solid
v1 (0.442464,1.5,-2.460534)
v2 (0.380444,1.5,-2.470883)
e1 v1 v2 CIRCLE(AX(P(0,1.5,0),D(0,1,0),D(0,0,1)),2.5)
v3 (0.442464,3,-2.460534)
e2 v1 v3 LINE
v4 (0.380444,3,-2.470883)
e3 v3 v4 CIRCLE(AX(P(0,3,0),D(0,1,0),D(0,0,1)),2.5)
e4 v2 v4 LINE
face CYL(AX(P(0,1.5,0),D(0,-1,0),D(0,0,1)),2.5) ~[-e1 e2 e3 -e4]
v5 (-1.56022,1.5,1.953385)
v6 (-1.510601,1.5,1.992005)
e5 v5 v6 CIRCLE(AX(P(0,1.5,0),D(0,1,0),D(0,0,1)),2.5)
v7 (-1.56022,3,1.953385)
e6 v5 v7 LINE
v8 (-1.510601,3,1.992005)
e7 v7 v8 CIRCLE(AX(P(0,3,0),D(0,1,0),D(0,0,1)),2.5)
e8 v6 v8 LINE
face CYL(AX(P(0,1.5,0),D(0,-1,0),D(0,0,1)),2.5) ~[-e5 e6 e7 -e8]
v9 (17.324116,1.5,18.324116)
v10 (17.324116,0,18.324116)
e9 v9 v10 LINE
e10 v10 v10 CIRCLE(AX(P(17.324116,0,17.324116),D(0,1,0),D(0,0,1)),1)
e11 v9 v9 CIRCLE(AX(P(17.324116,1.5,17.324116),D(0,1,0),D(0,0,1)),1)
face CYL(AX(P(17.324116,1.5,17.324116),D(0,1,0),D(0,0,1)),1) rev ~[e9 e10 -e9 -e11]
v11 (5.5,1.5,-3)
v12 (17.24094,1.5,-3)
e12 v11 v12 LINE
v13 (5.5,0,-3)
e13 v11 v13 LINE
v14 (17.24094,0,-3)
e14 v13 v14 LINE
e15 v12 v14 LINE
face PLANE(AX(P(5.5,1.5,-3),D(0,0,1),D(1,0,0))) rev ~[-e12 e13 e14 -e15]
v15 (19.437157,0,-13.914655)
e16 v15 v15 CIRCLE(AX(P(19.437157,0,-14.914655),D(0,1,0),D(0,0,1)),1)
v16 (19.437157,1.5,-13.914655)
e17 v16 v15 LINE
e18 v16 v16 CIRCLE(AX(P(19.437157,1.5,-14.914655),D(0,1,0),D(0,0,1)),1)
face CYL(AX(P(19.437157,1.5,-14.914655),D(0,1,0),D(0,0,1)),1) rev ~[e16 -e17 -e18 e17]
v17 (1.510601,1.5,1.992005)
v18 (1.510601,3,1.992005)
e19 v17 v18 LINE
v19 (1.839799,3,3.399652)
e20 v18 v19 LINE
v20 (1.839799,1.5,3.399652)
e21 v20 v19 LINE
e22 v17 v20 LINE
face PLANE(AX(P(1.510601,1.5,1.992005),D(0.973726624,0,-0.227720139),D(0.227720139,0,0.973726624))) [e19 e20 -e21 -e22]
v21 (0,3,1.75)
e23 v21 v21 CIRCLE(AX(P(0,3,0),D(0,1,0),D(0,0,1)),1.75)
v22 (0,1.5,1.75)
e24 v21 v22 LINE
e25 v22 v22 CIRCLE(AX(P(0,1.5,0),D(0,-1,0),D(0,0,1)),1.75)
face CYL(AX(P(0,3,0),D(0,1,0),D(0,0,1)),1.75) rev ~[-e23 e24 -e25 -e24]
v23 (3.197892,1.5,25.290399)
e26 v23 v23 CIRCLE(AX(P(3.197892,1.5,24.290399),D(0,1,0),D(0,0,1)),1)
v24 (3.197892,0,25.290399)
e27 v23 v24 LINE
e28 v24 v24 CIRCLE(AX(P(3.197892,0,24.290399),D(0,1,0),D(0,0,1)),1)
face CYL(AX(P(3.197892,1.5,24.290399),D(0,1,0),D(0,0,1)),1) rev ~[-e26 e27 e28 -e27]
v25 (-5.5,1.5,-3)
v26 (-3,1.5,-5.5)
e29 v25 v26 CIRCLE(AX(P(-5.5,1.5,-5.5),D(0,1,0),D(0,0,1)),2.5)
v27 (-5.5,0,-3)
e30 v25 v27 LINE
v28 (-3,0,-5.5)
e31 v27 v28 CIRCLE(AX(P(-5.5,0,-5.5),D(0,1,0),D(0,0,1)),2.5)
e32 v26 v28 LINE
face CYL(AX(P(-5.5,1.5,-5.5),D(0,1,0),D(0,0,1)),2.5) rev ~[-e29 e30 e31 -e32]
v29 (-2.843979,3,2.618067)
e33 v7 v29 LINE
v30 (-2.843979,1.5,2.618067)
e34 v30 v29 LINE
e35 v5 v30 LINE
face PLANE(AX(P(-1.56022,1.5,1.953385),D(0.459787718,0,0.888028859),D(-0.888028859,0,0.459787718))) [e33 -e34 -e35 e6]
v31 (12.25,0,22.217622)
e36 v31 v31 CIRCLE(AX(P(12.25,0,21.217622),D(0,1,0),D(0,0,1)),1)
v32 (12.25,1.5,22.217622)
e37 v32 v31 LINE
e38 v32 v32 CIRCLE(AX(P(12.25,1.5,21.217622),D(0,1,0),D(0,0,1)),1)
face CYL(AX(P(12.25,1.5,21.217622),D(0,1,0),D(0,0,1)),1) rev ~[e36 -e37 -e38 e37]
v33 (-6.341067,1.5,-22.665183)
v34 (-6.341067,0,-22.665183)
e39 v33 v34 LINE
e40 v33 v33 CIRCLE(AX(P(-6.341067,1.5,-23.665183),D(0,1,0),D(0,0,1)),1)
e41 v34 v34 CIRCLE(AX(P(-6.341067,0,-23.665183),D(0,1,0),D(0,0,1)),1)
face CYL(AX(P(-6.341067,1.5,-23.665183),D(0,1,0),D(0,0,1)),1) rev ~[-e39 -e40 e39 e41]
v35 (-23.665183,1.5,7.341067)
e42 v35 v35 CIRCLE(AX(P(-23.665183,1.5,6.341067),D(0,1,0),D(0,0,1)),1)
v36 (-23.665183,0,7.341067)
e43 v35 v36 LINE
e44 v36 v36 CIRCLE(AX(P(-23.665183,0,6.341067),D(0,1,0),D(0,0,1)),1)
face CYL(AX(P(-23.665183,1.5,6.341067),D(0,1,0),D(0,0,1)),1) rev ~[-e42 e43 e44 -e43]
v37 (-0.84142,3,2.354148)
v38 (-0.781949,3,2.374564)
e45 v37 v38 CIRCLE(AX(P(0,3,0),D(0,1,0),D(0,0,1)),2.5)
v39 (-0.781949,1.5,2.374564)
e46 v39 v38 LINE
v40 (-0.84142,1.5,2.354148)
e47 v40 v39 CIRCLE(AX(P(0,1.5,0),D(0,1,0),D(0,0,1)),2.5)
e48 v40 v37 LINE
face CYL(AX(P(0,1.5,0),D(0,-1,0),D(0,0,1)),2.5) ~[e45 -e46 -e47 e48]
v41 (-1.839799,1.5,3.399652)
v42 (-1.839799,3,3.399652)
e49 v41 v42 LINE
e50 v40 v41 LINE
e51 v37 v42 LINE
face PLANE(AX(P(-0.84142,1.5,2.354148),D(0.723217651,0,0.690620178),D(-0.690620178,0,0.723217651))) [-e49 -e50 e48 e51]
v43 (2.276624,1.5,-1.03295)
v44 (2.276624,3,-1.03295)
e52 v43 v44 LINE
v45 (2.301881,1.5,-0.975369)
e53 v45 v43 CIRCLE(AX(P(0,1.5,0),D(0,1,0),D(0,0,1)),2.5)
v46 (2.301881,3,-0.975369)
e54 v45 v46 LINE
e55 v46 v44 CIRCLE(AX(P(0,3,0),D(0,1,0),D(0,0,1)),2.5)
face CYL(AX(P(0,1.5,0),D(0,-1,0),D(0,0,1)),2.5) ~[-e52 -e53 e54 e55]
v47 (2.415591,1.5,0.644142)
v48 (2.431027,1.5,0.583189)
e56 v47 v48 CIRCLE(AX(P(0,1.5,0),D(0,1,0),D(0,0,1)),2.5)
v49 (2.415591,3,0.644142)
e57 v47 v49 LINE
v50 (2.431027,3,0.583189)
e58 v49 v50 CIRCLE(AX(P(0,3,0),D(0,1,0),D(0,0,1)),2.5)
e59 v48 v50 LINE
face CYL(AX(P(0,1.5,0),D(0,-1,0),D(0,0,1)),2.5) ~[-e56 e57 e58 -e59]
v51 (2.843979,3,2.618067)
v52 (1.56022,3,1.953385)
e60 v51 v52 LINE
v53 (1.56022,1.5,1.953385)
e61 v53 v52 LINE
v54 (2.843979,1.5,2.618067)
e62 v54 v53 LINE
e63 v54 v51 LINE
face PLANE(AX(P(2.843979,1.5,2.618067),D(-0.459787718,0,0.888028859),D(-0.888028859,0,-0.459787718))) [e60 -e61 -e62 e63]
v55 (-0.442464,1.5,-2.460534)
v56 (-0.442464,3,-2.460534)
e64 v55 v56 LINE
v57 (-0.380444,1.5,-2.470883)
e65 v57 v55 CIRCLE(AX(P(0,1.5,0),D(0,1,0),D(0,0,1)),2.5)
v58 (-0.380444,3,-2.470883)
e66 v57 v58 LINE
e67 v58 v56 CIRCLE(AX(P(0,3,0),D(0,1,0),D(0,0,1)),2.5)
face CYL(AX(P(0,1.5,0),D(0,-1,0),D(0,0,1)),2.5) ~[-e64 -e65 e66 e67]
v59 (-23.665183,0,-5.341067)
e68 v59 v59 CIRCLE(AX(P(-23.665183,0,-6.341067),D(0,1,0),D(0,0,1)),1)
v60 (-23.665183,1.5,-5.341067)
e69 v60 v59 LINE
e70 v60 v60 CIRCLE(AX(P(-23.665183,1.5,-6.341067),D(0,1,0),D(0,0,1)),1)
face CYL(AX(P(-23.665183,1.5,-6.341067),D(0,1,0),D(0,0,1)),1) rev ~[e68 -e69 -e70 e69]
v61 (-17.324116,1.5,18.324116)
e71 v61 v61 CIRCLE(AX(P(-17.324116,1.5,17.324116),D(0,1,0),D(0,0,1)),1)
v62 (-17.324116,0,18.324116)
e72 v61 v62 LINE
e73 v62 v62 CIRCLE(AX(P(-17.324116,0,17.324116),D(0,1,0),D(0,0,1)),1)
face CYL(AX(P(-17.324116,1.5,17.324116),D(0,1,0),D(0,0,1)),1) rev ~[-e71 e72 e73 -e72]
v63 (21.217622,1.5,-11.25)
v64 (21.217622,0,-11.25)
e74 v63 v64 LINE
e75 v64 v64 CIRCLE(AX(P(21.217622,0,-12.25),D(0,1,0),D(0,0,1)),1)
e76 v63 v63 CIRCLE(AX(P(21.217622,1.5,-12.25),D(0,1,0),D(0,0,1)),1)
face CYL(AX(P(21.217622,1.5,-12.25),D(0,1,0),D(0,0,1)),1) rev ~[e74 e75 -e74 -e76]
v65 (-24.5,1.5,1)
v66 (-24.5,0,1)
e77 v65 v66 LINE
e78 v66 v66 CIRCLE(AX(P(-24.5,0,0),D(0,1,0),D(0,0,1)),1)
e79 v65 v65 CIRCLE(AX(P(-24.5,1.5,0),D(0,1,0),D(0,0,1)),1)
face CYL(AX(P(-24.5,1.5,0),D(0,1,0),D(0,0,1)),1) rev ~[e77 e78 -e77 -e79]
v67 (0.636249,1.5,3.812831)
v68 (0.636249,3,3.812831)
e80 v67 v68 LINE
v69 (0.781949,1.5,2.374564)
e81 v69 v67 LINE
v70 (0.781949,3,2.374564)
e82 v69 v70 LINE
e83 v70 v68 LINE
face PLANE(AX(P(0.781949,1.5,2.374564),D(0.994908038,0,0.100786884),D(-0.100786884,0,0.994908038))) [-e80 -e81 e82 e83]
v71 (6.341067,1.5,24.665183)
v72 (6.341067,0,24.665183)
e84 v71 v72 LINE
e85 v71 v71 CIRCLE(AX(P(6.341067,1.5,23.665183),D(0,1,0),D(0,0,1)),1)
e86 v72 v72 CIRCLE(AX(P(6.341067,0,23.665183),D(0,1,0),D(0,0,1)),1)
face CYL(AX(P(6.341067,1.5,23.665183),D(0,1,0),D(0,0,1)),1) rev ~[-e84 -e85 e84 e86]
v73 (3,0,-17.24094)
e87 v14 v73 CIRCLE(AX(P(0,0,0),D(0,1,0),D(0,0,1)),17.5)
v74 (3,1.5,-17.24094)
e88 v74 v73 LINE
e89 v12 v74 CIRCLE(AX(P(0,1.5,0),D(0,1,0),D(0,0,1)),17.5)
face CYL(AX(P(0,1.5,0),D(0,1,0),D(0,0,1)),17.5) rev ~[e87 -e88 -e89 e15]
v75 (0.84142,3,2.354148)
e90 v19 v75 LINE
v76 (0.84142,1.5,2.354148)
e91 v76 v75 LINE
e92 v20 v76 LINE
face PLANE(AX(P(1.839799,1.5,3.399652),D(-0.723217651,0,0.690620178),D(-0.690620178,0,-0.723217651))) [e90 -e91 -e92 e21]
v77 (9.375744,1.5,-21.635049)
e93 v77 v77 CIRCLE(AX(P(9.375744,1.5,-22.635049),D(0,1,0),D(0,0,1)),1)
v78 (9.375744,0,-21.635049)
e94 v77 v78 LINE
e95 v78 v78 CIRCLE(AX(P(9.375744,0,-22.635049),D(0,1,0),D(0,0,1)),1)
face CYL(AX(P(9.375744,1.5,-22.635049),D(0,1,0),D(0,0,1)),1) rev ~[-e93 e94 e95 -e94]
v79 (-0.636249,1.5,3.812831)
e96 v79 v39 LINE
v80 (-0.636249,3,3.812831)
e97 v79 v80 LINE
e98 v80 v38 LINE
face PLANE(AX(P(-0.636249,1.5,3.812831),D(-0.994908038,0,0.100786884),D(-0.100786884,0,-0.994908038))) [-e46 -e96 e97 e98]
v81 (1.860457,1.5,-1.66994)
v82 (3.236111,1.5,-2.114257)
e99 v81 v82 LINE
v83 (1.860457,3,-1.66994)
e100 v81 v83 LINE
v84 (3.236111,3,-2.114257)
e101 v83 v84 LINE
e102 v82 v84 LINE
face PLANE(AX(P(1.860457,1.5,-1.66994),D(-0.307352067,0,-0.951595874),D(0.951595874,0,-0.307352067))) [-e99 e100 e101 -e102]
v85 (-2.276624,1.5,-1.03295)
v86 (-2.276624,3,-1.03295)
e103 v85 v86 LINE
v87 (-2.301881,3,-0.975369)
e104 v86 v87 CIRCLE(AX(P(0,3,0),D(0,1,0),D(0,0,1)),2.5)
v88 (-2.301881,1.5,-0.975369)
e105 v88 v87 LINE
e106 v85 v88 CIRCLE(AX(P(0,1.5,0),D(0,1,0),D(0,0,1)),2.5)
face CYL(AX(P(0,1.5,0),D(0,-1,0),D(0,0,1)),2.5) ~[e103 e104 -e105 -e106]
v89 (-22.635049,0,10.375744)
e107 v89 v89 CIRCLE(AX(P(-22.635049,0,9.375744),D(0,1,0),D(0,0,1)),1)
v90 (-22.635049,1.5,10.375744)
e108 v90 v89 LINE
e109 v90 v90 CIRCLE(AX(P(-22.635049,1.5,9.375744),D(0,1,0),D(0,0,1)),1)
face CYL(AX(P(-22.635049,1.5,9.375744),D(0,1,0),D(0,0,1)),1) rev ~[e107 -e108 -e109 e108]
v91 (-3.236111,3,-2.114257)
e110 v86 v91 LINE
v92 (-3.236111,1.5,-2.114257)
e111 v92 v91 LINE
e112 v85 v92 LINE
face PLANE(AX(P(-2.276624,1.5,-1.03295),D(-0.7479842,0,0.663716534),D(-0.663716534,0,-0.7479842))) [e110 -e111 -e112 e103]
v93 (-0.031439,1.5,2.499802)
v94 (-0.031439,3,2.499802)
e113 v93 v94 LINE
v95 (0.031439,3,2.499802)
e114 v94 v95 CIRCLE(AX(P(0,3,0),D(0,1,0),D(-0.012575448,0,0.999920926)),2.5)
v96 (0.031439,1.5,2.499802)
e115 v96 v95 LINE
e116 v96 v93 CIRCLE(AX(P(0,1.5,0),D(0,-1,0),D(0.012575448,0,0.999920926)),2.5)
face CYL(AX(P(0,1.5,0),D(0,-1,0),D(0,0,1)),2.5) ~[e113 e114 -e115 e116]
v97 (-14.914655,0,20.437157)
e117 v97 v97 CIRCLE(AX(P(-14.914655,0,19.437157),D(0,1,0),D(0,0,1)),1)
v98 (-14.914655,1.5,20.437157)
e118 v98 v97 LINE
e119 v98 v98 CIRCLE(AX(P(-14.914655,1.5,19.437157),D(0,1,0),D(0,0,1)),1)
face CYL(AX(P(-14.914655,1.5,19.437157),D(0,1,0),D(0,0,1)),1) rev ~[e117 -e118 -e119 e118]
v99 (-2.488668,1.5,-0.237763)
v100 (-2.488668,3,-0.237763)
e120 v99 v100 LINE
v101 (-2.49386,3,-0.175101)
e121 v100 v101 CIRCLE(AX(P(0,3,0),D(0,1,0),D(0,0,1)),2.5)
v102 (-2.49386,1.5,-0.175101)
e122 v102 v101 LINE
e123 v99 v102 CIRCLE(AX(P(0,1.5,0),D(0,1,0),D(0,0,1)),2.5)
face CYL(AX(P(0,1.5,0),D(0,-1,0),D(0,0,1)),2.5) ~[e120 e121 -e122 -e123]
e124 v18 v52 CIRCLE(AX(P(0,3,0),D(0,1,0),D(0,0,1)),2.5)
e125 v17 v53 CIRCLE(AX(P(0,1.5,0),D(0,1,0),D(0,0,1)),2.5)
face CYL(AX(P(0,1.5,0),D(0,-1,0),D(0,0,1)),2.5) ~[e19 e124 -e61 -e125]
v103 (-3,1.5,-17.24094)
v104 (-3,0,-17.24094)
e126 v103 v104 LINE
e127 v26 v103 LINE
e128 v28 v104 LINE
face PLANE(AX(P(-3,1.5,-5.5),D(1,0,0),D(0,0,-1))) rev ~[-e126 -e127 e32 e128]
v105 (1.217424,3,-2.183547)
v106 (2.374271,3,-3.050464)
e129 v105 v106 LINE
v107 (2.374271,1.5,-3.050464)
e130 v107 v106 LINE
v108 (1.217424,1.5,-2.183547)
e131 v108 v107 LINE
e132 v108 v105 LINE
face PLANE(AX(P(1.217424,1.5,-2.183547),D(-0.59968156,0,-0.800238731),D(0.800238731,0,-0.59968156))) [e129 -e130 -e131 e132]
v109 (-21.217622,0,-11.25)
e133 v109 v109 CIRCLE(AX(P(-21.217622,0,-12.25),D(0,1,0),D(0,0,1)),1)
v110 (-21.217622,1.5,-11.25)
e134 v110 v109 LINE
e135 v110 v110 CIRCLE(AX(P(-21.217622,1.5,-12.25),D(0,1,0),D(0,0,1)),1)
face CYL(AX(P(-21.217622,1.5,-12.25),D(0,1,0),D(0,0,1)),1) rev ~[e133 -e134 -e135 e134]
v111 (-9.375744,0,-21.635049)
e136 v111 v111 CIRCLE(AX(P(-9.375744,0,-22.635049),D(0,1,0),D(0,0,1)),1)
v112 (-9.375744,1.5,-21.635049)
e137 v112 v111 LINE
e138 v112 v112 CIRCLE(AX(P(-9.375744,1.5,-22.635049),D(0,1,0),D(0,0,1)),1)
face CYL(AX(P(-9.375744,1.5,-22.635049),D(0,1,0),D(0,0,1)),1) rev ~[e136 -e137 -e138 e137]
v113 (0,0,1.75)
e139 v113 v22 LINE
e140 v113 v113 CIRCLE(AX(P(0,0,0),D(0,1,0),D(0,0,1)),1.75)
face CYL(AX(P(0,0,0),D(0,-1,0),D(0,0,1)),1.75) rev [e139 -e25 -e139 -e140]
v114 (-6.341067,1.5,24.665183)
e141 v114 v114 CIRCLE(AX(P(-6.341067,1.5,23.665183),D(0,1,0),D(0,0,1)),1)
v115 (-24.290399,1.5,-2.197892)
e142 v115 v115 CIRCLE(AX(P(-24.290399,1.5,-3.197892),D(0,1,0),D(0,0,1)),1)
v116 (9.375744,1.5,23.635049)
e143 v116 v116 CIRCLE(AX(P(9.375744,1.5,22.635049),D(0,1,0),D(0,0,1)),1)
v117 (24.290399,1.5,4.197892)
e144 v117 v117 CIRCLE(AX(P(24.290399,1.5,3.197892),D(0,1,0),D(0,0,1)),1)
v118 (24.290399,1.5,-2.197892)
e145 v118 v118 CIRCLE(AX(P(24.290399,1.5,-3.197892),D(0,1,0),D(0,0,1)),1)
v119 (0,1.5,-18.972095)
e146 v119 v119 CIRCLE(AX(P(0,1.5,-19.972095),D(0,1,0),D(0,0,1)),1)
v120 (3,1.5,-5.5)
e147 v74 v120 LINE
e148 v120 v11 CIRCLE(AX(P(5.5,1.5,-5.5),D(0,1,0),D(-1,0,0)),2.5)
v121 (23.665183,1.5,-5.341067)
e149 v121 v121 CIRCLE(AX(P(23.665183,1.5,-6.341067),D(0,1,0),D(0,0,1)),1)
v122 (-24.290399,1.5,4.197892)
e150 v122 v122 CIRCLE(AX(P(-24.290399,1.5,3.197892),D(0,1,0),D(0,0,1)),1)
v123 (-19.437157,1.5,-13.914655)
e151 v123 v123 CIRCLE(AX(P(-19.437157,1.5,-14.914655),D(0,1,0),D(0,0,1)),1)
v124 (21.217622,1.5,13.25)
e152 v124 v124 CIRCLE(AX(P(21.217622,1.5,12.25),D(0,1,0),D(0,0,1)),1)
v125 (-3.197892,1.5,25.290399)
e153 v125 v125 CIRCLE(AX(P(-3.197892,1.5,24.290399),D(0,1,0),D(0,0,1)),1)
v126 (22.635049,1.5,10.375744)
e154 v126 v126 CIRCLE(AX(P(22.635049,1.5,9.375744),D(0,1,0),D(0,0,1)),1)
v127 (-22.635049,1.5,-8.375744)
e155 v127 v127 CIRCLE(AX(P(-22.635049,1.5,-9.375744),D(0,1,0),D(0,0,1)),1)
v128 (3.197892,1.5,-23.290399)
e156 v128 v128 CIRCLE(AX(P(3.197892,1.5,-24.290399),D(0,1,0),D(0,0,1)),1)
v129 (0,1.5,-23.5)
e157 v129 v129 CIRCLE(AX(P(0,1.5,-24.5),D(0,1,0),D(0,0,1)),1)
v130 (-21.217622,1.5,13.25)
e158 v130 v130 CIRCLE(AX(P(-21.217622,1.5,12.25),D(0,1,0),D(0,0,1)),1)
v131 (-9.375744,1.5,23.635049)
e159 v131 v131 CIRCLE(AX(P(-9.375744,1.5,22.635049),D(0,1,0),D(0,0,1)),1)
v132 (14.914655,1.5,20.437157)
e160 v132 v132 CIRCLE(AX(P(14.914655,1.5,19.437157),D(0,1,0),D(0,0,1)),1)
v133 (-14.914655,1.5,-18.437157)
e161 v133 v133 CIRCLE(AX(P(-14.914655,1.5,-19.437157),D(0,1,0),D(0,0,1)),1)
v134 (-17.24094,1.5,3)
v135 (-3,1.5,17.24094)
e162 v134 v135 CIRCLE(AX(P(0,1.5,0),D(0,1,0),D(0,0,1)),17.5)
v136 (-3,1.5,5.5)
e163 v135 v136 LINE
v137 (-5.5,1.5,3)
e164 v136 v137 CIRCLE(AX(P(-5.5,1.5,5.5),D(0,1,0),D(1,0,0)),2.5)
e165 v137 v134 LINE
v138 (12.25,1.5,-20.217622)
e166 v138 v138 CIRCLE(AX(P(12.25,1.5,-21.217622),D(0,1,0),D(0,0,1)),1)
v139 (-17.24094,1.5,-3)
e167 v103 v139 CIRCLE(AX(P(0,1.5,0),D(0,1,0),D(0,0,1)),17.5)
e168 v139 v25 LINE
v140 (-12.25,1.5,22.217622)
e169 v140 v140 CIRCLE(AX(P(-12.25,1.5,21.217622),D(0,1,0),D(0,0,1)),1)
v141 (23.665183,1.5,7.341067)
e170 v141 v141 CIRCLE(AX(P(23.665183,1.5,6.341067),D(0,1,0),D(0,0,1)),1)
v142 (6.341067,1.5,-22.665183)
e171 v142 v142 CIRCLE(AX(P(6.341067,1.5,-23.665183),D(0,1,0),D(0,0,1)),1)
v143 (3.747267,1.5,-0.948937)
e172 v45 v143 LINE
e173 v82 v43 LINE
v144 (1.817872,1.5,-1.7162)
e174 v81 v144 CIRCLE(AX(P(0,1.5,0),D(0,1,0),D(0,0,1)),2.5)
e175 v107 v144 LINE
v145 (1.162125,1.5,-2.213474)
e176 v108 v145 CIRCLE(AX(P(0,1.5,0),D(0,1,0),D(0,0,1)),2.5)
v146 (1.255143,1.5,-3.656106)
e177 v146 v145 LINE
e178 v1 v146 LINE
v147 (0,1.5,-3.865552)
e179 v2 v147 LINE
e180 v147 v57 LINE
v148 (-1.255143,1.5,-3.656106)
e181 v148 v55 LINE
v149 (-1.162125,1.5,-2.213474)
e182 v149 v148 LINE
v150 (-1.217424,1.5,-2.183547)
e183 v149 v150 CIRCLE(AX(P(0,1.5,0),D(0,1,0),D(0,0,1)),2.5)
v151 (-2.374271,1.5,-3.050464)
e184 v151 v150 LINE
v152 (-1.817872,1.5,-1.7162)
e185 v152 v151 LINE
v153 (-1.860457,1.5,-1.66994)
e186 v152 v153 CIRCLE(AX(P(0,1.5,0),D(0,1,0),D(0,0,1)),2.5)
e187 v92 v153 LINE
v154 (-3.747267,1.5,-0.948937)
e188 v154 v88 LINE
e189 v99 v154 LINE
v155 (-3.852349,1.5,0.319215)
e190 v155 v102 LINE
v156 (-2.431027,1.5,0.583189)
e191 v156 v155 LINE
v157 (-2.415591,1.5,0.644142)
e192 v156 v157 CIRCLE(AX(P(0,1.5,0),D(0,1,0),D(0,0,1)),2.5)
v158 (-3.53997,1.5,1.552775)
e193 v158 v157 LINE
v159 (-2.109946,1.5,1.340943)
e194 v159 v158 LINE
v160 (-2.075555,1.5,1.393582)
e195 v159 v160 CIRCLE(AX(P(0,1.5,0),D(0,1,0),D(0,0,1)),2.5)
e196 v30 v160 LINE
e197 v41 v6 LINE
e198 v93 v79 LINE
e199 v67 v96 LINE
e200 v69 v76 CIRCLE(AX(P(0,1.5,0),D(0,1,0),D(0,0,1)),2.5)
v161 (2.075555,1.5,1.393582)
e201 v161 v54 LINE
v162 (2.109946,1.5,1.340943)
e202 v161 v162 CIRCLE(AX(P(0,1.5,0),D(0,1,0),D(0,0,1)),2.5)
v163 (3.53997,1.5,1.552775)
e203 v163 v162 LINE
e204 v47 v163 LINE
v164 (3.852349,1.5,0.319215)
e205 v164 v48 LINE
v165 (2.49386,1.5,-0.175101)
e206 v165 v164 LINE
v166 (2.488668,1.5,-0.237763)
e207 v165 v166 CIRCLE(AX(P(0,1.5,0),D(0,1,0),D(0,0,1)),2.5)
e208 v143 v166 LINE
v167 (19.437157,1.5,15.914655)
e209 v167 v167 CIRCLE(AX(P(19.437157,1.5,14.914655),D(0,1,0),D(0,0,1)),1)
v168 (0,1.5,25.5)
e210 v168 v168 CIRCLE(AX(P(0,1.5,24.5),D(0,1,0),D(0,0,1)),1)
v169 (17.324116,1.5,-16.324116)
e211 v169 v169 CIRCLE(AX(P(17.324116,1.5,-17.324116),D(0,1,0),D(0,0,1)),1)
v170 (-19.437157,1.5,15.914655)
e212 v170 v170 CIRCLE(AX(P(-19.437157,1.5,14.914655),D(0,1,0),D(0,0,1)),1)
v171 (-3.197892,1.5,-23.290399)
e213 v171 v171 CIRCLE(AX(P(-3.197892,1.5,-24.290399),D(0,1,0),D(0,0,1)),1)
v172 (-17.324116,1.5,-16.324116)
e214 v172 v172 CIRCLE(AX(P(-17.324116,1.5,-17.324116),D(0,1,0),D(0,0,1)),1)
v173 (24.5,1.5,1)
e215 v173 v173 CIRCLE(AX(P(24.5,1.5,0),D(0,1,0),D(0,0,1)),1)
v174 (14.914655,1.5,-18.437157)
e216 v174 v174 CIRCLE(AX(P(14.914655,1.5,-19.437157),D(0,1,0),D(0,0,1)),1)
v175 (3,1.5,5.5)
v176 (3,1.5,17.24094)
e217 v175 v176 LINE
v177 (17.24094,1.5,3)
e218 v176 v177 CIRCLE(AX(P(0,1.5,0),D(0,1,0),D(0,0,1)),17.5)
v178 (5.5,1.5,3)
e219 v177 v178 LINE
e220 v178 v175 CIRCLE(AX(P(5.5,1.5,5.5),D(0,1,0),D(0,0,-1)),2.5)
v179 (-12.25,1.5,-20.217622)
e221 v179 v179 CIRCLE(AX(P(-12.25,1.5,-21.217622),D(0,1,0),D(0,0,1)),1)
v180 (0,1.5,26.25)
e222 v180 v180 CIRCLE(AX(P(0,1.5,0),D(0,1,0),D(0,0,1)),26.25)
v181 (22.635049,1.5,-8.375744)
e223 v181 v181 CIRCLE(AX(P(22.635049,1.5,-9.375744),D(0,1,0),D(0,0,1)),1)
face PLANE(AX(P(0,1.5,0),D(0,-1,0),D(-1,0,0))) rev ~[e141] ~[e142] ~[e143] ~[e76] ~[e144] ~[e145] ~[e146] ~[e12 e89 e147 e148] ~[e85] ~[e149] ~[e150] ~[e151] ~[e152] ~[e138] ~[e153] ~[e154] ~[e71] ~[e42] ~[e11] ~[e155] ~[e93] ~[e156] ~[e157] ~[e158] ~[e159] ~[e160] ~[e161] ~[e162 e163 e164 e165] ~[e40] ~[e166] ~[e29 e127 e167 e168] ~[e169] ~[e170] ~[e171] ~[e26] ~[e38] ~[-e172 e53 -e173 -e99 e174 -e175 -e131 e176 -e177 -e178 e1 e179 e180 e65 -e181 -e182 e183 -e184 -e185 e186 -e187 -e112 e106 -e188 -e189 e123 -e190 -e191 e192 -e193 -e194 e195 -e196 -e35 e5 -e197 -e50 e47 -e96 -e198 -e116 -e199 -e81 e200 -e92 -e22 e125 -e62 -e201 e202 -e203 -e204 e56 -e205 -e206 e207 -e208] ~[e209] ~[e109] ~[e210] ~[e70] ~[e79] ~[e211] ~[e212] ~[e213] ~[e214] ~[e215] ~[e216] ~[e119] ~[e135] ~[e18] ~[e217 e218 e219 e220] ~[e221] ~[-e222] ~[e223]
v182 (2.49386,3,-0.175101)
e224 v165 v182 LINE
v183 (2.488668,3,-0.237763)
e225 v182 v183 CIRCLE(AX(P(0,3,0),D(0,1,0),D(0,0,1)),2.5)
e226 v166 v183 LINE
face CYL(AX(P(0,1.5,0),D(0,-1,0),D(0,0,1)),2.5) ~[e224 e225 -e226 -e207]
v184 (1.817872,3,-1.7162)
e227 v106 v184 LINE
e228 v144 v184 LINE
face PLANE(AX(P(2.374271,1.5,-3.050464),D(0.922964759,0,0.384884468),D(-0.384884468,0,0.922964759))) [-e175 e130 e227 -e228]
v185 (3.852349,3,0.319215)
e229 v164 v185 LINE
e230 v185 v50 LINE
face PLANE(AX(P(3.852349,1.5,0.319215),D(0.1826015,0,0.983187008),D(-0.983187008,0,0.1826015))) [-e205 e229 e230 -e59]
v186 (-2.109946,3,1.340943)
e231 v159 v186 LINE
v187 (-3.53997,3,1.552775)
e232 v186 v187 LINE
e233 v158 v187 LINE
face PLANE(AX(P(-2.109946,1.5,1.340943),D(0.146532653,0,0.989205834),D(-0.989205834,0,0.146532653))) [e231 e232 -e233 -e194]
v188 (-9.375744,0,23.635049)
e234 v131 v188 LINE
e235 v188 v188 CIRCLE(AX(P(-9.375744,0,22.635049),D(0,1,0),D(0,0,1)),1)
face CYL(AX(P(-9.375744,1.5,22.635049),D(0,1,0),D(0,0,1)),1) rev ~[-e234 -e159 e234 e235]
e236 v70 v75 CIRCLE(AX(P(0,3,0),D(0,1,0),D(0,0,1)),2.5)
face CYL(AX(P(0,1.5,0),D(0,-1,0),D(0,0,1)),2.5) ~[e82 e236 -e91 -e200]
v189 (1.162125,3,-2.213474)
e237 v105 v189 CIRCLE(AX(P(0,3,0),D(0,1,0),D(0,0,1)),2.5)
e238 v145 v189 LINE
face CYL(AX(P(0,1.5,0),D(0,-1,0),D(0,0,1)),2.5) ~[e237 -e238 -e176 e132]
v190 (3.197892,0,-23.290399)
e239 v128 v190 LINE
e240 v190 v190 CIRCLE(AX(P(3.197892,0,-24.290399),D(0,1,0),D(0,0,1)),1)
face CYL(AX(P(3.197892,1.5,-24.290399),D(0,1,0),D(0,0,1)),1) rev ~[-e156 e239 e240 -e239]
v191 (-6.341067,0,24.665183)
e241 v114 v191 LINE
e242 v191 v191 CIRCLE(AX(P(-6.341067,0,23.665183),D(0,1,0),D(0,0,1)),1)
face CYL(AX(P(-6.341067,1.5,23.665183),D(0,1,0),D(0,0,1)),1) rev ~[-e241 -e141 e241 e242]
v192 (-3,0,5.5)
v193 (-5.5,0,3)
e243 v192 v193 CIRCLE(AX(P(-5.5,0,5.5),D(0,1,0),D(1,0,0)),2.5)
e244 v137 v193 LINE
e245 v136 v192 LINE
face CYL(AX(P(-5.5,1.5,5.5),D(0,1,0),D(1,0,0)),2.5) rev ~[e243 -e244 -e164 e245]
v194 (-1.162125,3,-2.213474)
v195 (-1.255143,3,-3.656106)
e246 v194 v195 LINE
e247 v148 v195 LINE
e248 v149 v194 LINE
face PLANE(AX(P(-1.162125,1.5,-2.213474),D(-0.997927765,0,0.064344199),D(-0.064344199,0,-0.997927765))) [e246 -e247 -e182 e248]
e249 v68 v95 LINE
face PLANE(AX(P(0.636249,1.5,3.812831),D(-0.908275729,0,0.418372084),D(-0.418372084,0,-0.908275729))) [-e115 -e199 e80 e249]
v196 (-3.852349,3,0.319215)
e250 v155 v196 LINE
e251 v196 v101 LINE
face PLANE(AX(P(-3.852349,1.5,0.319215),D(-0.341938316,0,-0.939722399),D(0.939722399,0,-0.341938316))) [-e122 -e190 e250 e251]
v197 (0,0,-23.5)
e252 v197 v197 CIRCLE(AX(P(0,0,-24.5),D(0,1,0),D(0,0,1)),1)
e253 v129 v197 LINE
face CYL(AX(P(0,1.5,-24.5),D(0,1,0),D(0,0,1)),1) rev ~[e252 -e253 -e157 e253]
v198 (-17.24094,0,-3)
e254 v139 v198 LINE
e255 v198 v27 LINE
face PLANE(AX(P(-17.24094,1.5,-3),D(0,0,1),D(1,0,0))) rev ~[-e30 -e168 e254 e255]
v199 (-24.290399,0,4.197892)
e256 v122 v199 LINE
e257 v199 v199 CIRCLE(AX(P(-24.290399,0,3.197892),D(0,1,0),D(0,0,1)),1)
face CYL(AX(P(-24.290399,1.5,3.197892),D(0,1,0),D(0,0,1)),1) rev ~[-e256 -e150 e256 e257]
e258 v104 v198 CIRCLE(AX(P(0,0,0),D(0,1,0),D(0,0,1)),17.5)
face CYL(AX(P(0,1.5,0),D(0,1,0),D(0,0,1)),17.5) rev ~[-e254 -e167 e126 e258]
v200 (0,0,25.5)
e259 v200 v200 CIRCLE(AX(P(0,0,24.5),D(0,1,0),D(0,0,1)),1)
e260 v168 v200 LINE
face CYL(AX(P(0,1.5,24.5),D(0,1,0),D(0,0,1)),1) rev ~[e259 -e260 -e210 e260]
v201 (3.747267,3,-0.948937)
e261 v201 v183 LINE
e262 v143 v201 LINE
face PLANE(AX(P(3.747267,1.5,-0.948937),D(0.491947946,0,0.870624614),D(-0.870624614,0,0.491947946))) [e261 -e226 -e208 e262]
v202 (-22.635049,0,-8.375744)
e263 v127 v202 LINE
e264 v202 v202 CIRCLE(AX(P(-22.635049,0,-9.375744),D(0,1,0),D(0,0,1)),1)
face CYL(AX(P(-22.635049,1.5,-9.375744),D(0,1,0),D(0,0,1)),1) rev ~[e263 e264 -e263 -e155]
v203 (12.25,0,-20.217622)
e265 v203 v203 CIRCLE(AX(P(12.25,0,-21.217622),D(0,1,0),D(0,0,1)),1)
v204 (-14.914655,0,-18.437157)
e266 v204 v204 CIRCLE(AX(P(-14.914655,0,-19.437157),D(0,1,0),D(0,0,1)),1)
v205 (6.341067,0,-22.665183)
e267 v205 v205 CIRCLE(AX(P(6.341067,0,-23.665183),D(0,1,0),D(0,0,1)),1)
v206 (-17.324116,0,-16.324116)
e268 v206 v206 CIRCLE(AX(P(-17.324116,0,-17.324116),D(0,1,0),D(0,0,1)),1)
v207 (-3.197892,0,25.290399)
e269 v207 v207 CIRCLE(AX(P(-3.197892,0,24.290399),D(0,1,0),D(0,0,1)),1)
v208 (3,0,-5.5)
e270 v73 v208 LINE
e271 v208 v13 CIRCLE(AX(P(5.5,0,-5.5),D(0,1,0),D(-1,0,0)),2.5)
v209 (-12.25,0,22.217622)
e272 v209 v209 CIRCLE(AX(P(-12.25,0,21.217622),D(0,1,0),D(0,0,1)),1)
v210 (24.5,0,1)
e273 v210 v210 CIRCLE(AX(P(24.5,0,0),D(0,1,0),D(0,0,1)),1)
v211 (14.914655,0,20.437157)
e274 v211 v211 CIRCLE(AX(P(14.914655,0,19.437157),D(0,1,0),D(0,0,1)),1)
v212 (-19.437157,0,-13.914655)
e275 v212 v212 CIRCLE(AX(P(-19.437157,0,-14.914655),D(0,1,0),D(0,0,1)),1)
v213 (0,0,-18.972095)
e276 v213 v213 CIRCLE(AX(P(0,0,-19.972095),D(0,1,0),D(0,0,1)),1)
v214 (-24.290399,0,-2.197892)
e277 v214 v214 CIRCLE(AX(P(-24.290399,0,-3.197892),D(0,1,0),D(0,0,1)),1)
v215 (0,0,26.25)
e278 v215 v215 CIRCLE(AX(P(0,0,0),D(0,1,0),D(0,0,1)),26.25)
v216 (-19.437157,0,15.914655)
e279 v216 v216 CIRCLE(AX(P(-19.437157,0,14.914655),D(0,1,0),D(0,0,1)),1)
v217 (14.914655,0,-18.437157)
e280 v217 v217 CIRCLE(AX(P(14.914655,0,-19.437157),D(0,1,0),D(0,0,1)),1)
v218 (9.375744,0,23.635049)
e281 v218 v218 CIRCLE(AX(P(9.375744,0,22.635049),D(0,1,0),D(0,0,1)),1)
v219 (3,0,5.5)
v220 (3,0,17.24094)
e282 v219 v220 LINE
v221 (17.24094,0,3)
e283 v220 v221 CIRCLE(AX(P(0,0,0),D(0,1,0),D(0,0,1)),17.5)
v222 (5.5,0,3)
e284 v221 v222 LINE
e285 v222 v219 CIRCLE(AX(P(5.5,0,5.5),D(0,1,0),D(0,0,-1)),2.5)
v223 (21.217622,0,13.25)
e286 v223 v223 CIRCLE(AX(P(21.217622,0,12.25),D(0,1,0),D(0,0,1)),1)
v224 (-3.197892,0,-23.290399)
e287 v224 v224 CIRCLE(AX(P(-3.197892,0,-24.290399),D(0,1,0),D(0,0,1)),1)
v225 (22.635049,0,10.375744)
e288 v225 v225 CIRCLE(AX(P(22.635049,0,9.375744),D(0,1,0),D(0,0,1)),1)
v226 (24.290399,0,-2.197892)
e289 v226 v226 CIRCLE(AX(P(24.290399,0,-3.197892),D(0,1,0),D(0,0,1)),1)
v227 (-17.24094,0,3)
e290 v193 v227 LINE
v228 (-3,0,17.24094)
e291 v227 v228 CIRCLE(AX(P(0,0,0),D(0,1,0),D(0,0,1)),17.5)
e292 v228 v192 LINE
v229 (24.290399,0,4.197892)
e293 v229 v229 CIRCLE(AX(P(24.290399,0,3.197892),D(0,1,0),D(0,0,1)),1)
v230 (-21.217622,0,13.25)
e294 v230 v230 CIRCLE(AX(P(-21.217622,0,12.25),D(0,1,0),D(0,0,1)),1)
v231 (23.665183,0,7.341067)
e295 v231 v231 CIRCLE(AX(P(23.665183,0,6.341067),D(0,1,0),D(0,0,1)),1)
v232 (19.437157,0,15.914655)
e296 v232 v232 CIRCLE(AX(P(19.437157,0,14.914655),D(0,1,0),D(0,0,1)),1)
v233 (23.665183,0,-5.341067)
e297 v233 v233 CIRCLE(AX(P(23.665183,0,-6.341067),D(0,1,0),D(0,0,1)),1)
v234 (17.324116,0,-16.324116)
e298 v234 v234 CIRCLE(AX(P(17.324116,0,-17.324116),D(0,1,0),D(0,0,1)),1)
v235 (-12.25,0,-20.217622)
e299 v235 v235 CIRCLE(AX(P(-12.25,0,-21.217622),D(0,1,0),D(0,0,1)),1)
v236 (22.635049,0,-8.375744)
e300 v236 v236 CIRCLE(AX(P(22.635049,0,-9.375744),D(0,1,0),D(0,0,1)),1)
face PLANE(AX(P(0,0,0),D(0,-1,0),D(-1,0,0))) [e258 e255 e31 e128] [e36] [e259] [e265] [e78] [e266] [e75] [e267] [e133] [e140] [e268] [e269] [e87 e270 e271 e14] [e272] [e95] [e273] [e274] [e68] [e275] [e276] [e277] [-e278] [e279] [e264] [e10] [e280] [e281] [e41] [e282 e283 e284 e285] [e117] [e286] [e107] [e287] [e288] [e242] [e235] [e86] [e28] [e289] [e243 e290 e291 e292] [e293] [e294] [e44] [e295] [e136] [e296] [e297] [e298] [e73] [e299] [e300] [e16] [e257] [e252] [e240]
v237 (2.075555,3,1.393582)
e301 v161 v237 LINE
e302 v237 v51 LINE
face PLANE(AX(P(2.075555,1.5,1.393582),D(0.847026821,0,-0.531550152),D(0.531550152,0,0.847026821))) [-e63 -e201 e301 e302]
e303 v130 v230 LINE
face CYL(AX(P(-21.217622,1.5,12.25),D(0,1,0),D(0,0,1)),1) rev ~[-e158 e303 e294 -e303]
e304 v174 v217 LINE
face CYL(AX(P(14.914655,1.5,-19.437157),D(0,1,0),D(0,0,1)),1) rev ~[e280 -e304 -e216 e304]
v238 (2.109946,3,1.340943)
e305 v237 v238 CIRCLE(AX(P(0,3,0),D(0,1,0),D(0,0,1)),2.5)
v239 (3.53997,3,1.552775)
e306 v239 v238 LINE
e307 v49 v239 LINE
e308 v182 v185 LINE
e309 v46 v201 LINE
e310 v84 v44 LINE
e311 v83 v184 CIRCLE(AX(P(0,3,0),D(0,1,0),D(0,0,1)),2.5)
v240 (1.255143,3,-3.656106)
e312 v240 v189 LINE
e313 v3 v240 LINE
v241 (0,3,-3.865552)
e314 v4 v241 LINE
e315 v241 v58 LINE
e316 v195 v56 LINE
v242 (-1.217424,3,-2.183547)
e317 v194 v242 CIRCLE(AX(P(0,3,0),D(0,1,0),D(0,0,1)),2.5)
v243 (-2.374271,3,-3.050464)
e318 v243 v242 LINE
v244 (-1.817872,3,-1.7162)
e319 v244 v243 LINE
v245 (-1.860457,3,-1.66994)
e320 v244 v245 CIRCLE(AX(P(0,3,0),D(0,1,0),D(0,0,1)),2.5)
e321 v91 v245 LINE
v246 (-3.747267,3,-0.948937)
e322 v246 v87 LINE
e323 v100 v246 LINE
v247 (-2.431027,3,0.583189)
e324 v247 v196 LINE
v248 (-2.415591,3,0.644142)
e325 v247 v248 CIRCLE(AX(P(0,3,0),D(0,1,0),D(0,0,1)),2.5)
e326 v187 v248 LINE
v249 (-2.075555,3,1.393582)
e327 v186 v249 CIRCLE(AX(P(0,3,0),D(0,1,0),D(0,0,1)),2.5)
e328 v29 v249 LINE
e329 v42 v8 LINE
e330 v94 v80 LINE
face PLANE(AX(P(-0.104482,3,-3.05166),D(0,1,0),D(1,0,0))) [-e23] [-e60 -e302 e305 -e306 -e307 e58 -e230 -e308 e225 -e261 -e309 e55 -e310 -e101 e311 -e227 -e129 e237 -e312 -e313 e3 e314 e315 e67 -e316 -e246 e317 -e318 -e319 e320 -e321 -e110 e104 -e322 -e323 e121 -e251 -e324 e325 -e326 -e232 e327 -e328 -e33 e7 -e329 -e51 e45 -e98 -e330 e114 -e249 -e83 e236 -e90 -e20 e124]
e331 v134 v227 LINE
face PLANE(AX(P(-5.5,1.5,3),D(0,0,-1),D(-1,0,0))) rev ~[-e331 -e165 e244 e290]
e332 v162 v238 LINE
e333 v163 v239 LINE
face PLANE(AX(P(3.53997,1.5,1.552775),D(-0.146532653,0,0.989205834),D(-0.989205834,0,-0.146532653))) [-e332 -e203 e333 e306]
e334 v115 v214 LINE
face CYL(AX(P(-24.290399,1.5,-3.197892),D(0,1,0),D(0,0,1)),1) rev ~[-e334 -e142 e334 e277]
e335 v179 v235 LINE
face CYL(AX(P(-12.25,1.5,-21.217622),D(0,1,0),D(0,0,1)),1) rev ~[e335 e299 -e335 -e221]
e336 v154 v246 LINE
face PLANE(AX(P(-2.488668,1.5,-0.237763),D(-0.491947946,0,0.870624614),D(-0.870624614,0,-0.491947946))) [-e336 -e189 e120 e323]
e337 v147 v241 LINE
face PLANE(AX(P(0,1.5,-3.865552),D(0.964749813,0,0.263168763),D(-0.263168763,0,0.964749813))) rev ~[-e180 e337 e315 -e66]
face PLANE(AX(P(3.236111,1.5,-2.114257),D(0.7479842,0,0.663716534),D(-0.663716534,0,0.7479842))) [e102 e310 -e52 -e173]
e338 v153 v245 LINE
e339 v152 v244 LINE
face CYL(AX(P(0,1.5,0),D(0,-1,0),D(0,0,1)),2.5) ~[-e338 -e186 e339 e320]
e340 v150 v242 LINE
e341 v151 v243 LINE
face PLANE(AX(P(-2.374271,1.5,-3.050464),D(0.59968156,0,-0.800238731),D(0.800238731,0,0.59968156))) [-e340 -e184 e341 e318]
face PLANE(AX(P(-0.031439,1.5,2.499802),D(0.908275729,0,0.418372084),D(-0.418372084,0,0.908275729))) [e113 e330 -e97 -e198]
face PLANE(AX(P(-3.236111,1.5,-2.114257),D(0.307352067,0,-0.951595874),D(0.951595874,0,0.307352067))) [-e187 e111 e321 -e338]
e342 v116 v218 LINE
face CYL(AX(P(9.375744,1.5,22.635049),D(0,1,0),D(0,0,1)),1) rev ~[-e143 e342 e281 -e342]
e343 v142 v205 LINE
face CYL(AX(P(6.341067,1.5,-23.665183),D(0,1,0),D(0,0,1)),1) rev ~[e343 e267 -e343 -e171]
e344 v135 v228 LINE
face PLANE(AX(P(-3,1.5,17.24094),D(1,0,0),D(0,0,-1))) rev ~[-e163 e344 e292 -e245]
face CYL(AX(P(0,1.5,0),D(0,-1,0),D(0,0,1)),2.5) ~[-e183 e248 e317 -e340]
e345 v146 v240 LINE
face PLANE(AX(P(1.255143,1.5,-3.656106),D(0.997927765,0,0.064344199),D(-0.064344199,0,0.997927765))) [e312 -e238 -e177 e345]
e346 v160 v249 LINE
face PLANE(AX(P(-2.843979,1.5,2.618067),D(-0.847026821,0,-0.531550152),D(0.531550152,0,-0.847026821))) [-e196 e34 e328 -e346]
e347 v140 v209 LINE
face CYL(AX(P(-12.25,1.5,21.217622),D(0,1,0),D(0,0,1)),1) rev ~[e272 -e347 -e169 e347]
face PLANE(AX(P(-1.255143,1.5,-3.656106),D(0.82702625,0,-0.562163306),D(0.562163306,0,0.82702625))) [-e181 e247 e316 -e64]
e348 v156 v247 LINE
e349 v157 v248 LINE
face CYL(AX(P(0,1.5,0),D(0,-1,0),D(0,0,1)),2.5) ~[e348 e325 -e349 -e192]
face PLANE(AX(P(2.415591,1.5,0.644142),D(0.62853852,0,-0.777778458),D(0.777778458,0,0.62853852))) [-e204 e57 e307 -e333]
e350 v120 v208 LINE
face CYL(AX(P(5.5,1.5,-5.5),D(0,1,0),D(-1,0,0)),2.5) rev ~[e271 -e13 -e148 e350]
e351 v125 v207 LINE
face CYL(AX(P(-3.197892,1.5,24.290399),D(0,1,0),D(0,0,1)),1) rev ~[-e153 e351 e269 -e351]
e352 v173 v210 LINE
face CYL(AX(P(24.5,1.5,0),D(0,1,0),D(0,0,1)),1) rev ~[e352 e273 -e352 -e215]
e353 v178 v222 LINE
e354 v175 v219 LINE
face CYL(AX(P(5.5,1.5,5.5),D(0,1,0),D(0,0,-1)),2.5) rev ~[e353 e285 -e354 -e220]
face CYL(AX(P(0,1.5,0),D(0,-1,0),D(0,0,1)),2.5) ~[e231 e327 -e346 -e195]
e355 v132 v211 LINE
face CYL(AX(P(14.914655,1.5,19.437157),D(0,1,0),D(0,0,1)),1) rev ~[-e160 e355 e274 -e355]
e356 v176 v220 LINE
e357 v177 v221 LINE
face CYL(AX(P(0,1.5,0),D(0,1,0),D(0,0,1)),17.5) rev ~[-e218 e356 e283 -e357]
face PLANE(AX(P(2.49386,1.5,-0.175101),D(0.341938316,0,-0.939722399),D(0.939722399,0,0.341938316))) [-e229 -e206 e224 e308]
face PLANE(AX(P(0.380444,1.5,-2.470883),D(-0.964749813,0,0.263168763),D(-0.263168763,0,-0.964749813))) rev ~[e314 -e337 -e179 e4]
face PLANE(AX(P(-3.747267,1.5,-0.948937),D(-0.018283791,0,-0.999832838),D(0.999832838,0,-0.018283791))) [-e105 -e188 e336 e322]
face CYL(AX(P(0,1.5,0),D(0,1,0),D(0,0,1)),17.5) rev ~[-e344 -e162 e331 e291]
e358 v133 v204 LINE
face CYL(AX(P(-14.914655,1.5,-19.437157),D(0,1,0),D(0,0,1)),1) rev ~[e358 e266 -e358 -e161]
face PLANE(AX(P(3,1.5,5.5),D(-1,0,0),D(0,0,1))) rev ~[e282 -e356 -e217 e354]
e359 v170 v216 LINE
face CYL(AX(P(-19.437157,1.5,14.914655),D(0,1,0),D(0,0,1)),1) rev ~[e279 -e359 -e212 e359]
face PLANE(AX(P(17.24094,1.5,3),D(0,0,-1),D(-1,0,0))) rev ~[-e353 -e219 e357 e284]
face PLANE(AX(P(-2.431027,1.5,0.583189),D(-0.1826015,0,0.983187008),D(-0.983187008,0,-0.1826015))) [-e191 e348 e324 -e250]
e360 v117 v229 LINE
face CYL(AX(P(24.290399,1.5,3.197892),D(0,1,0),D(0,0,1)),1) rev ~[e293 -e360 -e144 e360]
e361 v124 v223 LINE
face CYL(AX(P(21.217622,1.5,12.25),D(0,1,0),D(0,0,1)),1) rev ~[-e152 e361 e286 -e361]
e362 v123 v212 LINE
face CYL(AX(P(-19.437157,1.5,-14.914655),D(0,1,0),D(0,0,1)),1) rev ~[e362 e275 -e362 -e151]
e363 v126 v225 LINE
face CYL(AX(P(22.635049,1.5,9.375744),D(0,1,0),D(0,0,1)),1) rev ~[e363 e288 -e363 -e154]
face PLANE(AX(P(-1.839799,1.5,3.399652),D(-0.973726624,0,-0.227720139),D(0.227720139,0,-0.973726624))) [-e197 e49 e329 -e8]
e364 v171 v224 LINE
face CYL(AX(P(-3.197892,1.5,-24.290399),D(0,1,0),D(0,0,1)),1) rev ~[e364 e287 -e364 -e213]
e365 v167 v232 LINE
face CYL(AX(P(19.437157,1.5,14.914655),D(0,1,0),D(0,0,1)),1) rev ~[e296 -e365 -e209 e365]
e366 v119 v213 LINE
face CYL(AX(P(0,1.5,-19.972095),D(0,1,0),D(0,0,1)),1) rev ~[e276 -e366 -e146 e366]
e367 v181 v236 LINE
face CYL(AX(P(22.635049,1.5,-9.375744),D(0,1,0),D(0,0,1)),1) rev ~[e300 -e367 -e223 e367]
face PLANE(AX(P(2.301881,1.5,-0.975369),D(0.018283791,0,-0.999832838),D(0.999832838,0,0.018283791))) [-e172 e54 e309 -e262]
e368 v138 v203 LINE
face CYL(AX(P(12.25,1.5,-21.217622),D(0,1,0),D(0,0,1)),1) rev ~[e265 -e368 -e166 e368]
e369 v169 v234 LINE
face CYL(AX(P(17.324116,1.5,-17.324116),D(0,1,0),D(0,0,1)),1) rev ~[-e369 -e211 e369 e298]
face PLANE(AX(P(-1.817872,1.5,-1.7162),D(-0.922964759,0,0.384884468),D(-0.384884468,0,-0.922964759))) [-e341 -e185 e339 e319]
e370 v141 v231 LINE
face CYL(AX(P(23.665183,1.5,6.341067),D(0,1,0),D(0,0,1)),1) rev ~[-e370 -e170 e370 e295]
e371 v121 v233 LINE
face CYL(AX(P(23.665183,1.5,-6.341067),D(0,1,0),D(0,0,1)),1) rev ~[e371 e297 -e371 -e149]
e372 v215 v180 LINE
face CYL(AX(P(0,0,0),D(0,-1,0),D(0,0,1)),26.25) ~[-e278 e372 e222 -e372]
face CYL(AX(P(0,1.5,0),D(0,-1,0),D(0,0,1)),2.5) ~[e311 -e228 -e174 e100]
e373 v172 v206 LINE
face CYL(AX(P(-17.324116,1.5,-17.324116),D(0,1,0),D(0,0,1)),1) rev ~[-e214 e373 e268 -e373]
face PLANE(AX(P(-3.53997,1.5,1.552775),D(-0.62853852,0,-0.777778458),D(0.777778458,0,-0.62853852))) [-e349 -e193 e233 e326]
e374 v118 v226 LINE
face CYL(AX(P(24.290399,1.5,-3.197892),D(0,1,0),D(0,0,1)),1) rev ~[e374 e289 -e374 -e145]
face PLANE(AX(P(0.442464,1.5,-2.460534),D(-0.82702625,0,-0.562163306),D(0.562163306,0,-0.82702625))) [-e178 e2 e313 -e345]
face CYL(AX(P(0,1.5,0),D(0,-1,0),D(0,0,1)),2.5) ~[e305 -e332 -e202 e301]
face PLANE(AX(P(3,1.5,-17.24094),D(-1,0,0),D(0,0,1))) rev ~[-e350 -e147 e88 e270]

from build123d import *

# Parameters (mm, degrees)
SKETCH1_R               = 26.25
BOSS_EXTRUDE1_DEPTH     = 1.5
SKETCH2_R               = 17.5
CUT_EXTRUDE1_DEPTH      = 4.5
SKETCH3_R               = 1
CUT_EXTRUDE2_DEPTH      = 2.5
SKETCH5_R               = 1
CUT_EXTRUDE3_DEPTH      = 1.5
BOSS_EXTRUDE4_DEPTH     = 1.5
CUT_EXTRUDE4_DEPTH      = 10
CUT_EXTRUDE4_DEPTH_BACK = 1.5
SKETCH7_R               = 1.75
SKETCH12_R              = 2.5
BOSS_EXTRUDE6_DEPTH     = 1.5
CUT_EXTRUDE5_START      = 1.5
SKETCH13_R              = 1.75
CUT_EXTRUDE5_DEPTH      = 1.5
BOSS_EXTRUDE8_DEPTH     = 1.5


with BuildPart() as part:
    # Sketch1 → Boss-Extrude1 (new body)
    with BuildSketch(Plane(origin=(0, 0, 0), x_dir=(1, 0, 0), z_dir=(0, 1, 0))):
        with Locations(Location((0, 0, 0), (0, 0, 270))):
            Circle(SKETCH1_R)
    extrude(amount=BOSS_EXTRUDE1_DEPTH)

    # Sketch2 → Cut-Extrude1 (cut)
    with BuildSketch(Plane(origin=(0, 1.5, 0), x_dir=(1, 0, 0), z_dir=(0, 1, 0))):
        with Locations(Location((0, 0, 0), (0, 0, 270))):
            Circle(SKETCH2_R)
    extrude(amount=-CUT_EXTRUDE1_DEPTH, mode=Mode.SUBTRACT)

    # Sketch3 → Cut-Extrude2 (cut)
    with BuildSketch(Plane(origin=(0, 1.5, 0), x_dir=(1, 0, 0), z_dir=(0, 1, 0))):
        with Locations(Location((0, 24.5, 0), (0, 0, 270))):
            Circle(SKETCH3_R)
        with Locations(Location((3.197891709, 24.290399104, 0), (0, 0, 270))):
            Circle(SKETCH3_R)
        with Locations(Location((6.341066605, 23.665182744, 0), (0, 0, 270))):
            Circle(SKETCH3_R)
        with Locations(Location((9.375744093, 22.635048547, 0), (0, 0, 270))):
            Circle(SKETCH3_R)
        with Locations(Location((12.25, 21.217622393, 0), (0, 0, 270))):
            Circle(SKETCH3_R)
        with Locations(Location((14.914655011, 19.437156837, 0), (0, 0, 270))):
            Circle(SKETCH3_R)
        with Locations(Location((17.324116139, 17.324116139, 0), (0, 0, 270))):
            Circle(SKETCH3_R)
        with Locations(Location((19.437156837, 14.914655011, 0), (0, 0, 270))):
            Circle(SKETCH3_R)
        with Locations(Location((21.217622393, 12.25, 0), (0, 0, 270))):
            Circle(SKETCH3_R)
        with Locations(Location((22.635048547, 9.375744093, 0), (0, 0, 270))):
            Circle(SKETCH3_R)
        with Locations(Location((23.665182744, 6.341066605, 0), (0, 0, 270))):
            Circle(SKETCH3_R)
        with Locations(Location((24.290399104, 3.197891709, 0), (0, 0, 270))):
            Circle(SKETCH3_R)
        with Locations(Location((24.5, 0, 0), (0, 0, 270))):
            Circle(SKETCH3_R)
        with Locations(Location((24.290399104, -3.197891709, 0), (0, 0, 270))):
            Circle(SKETCH3_R)
        with Locations(Location((23.665182744, -6.341066605, 0), (0, 0, 270))):
            Circle(SKETCH3_R)
        with Locations(Location((22.635048547, -9.375744093, 0), (0, 0, 270))):
            Circle(SKETCH3_R)
        with Locations(Location((21.217622393, -12.25, 0), (0, 0, 270))):
            Circle(SKETCH3_R)
        with Locations(Location((19.437156837, -14.914655011, 0), (0, 0, 270))):
            Circle(SKETCH3_R)
        with Locations(Location((17.324116139, -17.324116139, 0), (0, 0, 270))):
            Circle(SKETCH3_R)
        with Locations(Location((14.914655011, -19.437156837, 0), (0, 0, 270))):
            Circle(SKETCH3_R)
        with Locations(Location((12.25, -21.217622393, 0), (0, 0, 270))):
            Circle(SKETCH3_R)
        with Locations(Location((9.375744093, -22.635048547, 0), (0, 0, 270))):
            Circle(SKETCH3_R)
        with Locations(Location((6.341066605, -23.665182744, 0), (0, 0, 270))):
            Circle(SKETCH3_R)
        with Locations(Location((3.197891709, -24.290399104, 0), (0, 0, 270))):
            Circle(SKETCH3_R)
        with Locations(Location((0, -24.5, 0), (0, 0, 270))):
            Circle(SKETCH3_R)
        with Locations(Location((-3.197891709, -24.290399104, 0), (0, 0, 270))):
            Circle(SKETCH3_R)
        with Locations(Location((-6.341066605, -23.665182744, 0), (0, 0, 270))):
            Circle(SKETCH3_R)
        with Locations(Location((-9.375744093, -22.635048547, 0), (0, 0, 270))):
            Circle(SKETCH3_R)
        with Locations(Location((-12.25, -21.217622393, 0), (0, 0, 270))):
            Circle(SKETCH3_R)
        with Locations(Location((-14.914655011, -19.437156837, 0), (0, 0, 270))):
            Circle(SKETCH3_R)
        with Locations(Location((-17.324116139, -17.324116139, 0), (0, 0, 270))):
            Circle(SKETCH3_R)
        with Locations(Location((-19.437156837, -14.914655011, 0), (0, 0, 270))):
            Circle(SKETCH3_R)
        with Locations(Location((-21.217622393, -12.25, 0), (0, 0, 270))):
            Circle(SKETCH3_R)
        with Locations(Location((-22.635048547, -9.375744093, 0), (0, 0, 270))):
            Circle(SKETCH3_R)
        with Locations(Location((-23.665182744, -6.341066605, 0), (0, 0, 270))):
            Circle(SKETCH3_R)
        with Locations(Location((-24.290399104, -3.197891709, 0), (0, 0, 270))):
            Circle(SKETCH3_R)
        with Locations(Location((-24.5, 0, 0), (0, 0, 270))):
            Circle(SKETCH3_R)
        with Locations(Location((-24.290399104, 3.197891709, 0), (0, 0, 270))):
            Circle(SKETCH3_R)
        with Locations(Location((-23.665182744, 6.341066605, 0), (0, 0, 270))):
            Circle(SKETCH3_R)
        with Locations(Location((-22.635048547, 9.375744093, 0), (0, 0, 270))):
            Circle(SKETCH3_R)
        with Locations(Location((-21.217622393, 12.25, 0), (0, 0, 270))):
            Circle(SKETCH3_R)
        with Locations(Location((-19.437156837, 14.914655011, 0), (0, 0, 270))):
            Circle(SKETCH3_R)
        with Locations(Location((-17.324116139, 17.324116139, 0), (0, 0, 270))):
            Circle(SKETCH3_R)
        with Locations(Location((-14.914655011, 19.437156837, 0), (0, 0, 270))):
            Circle(SKETCH3_R)
        with Locations(Location((-12.25, 21.217622393, 0), (0, 0, 270))):
            Circle(SKETCH3_R)
        with Locations(Location((-9.375744093, 22.635048547, 0), (0, 0, 270))):
            Circle(SKETCH3_R)
        with Locations(Location((-6.341066605, 23.665182744, 0), (0, 0, 270))):
            Circle(SKETCH3_R)
        with Locations(Location((-3.197891709, 24.290399104, 0), (0, 0, 270))):
            Circle(SKETCH3_R)
    extrude(amount=-CUT_EXTRUDE2_DEPTH, mode=Mode.SUBTRACT)

    # Sketch5 → Cut-Extrude3 (cut)
    with BuildSketch(Plane(origin=(0, 1.5, 0), x_dir=(1, 0, 0), z_dir=(0, 1, 0))):
        with Locations(Location((0, 19.972095444, 0), (0, 0, 270))):
            Circle(SKETCH5_R)
    extrude(amount=-CUT_EXTRUDE3_DEPTH, mode=Mode.SUBTRACT)

    # Sketch6 → Boss-Extrude4 (add)
    with BuildSketch(Plane(origin=(0, 1.5, 0), x_dir=(1, 0, 0), z_dir=(0, 1, 0))):
        with BuildLine():
            Line((-3, 5.5), (-3, 17.24093965))
            Line((-3, 17.24093965), (0, 18.195849362))
            Line((0, 18.195849362), (3, 17.24093965))
            Line((3, 17.24093965), (3, 5.5))
            ThreePointArc((3, 5.5), (3.732233047, 3.732233047), (5.5, 3))
            Line((5.5, 3), (17.24093965, 3))
            Line((17.24093965, 3), (18.195849362, 0))
            Line((18.195849362, 0), (17.24093965, -3))
            Line((17.24093965, -3), (5.5, -3))
            ThreePointArc((5.5, -3), (3.732233047, -3.732233047), (3, -5.5))
            Line((3, -5.5), (3, -17.24093965))
            Line((3, -17.24093965), (0, -18.195849362))
            Line((0, -18.195849362), (-3, -17.24093965))
            Line((-3, -17.24093965), (-3, -5.5))
            ThreePointArc((-3, -5.5), (-3.732233047, -3.732233047), (-5.5, -3))
            Line((-5.5, -3), (-17.24093965, -3))
            Line((-17.24093965, -3), (-18.195849362, 0))
            Line((-18.195849362, 0), (-17.24093965, 3))
            Line((-17.24093965, 3), (-5.5, 3))
            ThreePointArc((-5.5, 3), (-3.732233047, 3.732233047), (-3, 5.5))
        make_face()
    extrude(amount=-BOSS_EXTRUDE4_DEPTH)

    # Sketch7 → Cut-Extrude4 (cut, two sides: drawn at the far end of the back side and taken through both)
    with BuildSketch(Plane(origin=(0, 1.5, 0), x_dir=(1, 0, 0), z_dir=(0, 1, 0)).offset(-CUT_EXTRUDE4_DEPTH_BACK)):
        with Locations(Location((0, 0, 0), (0, 0, 270))):
            Circle(SKETCH7_R)
    extrude(amount=CUT_EXTRUDE4_DEPTH + CUT_EXTRUDE4_DEPTH_BACK, mode=Mode.SUBTRACT)

    # Sketch12 → Boss-Extrude6 (add)
    with BuildSketch(Plane(origin=(0, 1.5, 0), x_dir=(1, 0, 0), z_dir=(0, 1, 0))):
        with Locations(Location((0, 0, 0), (0, 0, 270))):
            Circle(SKETCH12_R)
    extrude(amount=BOSS_EXTRUDE6_DEPTH)

    # Sketch13 → Cut-Extrude5 (cut)
    with BuildSketch(Plane(origin=(0, 1.5, 0), x_dir=(1, 0, 0), z_dir=(0, 1, 0)).offset(CUT_EXTRUDE5_START)):
        with Locations(Location((0, 0, 0), (0, 0, 270))):
            Circle(SKETCH13_R)
    extrude(amount=-CUT_EXTRUDE5_DEPTH, mode=Mode.SUBTRACT)

    # Sketch15 → Boss-Extrude8 (add)
    with BuildSketch(Plane(origin=(0, 1.5, 0), x_dir=(1, 0, 0), z_dir=(0, 1, 0))):
        Polygon((0, 2.35221672), (0, 2.5), (0, 3.865552121), (-0.3804441, 2.470882896), align=None)
        Polygon((0, 3.865552121), (0, 2.5), (0, 2.35221672), (0.3804441, 2.470882896), align=None)
        Polygon((0.763763521, 2.22476713), (0.442463776, 2.460533643), (1.255142722, 3.656105844), (1.162124954, 2.213473648), align=None)
        Polygon((1.444761413, 1.856229501), (1.217423836, 2.18354739), (2.374271254, 3.05046377), (1.817871537, 1.716200185), align=None)
        Polygon((1.969196988, 1.286540603), (1.860457133, 1.669939896), (3.236110655, 2.114256612), (2.276623532, 1.032949802), align=None)
        Polygon((2.280239514, 0.577435067), (2.301881031, 0.975368503), (3.747267254, 0.948936945), (2.488668042, 0.23776328), align=None)
        Polygon((2.344182708, -0.194244517), (2.493860403, 0.175100798), (3.8523493, -0.319214764), (2.431026754, -0.583188583), align=None)
        Polygon((-1.444761413, 1.856229501), (-1.817871537, 1.716200185), (-2.374271254, 3.05046377), (-1.217423836, 2.18354739), align=None)
        Polygon((-1.969196988, 1.286540603), (-2.276623532, 1.032949802), (-3.236110655, 2.114256612), (-1.860457133, 1.669939896), align=None)
        Polygon((-2.280239514, 0.577435067), (-2.488668042, 0.23776328), (-3.747267254, 0.948936945), (-2.301881031, 0.975368503), align=None)
        Polygon((-2.344182708, -0.194244517), (-2.431026754, -0.583188583), (-3.8523493, -0.319214764), (-2.493860403, 0.175100798), align=None)
        Polygon((-2.154097331, -0.944874694), (-2.109945995, -1.340942913), (-3.539969525, -1.552774601), (-2.415591304, -0.644141795), align=None)
        Polygon((-1.730582084, -1.593113037), (-1.560219849, -1.953385272), (-2.843979123, -2.618067215), (-2.075555405, -1.39358163), align=None)
        Polygon((-1.119531416, -2.068712863), (-0.841419673, -2.354148027), (-1.839799454, -3.399651624), (-1.510600873, -1.992005272), align=None)
        Polygon((-0.387162147, -2.32013555), (-0.03143862, -2.499802315), (-0.636248967, -3.812831028), (-0.781949296, -2.374564233), align=None)
        Polygon((1.119531416, -2.068712863), (1.510600873, -1.992005272), (1.839799454, -3.399651624), (0.841419673, -2.354148027), align=None)
        Polygon((1.730582084, -1.593113037), (2.075555405, -1.39358163), (2.843979123, -2.618067215), (1.560219849, -1.953385272), align=None)
        Polygon((2.154097331, -0.944874694), (2.415591304, -0.644141795), (3.539969525, -1.552774601), (2.109945995, -1.340942913), align=None)
        Polygon((-1.162124954, 2.213473648), (-1.255142722, 3.656105844), (-0.442463776, 2.460533643), (-0.763763521, 2.22476713), align=None)
        Polygon((0.781949296, -2.374564233), (0.636248967, -3.812831028), (0.03143862, -2.499802315), (0.387162147, -2.32013555), align=None)
    extrude(amount=BOSS_EXTRUDE8_DEPTH)


solid = part.part
